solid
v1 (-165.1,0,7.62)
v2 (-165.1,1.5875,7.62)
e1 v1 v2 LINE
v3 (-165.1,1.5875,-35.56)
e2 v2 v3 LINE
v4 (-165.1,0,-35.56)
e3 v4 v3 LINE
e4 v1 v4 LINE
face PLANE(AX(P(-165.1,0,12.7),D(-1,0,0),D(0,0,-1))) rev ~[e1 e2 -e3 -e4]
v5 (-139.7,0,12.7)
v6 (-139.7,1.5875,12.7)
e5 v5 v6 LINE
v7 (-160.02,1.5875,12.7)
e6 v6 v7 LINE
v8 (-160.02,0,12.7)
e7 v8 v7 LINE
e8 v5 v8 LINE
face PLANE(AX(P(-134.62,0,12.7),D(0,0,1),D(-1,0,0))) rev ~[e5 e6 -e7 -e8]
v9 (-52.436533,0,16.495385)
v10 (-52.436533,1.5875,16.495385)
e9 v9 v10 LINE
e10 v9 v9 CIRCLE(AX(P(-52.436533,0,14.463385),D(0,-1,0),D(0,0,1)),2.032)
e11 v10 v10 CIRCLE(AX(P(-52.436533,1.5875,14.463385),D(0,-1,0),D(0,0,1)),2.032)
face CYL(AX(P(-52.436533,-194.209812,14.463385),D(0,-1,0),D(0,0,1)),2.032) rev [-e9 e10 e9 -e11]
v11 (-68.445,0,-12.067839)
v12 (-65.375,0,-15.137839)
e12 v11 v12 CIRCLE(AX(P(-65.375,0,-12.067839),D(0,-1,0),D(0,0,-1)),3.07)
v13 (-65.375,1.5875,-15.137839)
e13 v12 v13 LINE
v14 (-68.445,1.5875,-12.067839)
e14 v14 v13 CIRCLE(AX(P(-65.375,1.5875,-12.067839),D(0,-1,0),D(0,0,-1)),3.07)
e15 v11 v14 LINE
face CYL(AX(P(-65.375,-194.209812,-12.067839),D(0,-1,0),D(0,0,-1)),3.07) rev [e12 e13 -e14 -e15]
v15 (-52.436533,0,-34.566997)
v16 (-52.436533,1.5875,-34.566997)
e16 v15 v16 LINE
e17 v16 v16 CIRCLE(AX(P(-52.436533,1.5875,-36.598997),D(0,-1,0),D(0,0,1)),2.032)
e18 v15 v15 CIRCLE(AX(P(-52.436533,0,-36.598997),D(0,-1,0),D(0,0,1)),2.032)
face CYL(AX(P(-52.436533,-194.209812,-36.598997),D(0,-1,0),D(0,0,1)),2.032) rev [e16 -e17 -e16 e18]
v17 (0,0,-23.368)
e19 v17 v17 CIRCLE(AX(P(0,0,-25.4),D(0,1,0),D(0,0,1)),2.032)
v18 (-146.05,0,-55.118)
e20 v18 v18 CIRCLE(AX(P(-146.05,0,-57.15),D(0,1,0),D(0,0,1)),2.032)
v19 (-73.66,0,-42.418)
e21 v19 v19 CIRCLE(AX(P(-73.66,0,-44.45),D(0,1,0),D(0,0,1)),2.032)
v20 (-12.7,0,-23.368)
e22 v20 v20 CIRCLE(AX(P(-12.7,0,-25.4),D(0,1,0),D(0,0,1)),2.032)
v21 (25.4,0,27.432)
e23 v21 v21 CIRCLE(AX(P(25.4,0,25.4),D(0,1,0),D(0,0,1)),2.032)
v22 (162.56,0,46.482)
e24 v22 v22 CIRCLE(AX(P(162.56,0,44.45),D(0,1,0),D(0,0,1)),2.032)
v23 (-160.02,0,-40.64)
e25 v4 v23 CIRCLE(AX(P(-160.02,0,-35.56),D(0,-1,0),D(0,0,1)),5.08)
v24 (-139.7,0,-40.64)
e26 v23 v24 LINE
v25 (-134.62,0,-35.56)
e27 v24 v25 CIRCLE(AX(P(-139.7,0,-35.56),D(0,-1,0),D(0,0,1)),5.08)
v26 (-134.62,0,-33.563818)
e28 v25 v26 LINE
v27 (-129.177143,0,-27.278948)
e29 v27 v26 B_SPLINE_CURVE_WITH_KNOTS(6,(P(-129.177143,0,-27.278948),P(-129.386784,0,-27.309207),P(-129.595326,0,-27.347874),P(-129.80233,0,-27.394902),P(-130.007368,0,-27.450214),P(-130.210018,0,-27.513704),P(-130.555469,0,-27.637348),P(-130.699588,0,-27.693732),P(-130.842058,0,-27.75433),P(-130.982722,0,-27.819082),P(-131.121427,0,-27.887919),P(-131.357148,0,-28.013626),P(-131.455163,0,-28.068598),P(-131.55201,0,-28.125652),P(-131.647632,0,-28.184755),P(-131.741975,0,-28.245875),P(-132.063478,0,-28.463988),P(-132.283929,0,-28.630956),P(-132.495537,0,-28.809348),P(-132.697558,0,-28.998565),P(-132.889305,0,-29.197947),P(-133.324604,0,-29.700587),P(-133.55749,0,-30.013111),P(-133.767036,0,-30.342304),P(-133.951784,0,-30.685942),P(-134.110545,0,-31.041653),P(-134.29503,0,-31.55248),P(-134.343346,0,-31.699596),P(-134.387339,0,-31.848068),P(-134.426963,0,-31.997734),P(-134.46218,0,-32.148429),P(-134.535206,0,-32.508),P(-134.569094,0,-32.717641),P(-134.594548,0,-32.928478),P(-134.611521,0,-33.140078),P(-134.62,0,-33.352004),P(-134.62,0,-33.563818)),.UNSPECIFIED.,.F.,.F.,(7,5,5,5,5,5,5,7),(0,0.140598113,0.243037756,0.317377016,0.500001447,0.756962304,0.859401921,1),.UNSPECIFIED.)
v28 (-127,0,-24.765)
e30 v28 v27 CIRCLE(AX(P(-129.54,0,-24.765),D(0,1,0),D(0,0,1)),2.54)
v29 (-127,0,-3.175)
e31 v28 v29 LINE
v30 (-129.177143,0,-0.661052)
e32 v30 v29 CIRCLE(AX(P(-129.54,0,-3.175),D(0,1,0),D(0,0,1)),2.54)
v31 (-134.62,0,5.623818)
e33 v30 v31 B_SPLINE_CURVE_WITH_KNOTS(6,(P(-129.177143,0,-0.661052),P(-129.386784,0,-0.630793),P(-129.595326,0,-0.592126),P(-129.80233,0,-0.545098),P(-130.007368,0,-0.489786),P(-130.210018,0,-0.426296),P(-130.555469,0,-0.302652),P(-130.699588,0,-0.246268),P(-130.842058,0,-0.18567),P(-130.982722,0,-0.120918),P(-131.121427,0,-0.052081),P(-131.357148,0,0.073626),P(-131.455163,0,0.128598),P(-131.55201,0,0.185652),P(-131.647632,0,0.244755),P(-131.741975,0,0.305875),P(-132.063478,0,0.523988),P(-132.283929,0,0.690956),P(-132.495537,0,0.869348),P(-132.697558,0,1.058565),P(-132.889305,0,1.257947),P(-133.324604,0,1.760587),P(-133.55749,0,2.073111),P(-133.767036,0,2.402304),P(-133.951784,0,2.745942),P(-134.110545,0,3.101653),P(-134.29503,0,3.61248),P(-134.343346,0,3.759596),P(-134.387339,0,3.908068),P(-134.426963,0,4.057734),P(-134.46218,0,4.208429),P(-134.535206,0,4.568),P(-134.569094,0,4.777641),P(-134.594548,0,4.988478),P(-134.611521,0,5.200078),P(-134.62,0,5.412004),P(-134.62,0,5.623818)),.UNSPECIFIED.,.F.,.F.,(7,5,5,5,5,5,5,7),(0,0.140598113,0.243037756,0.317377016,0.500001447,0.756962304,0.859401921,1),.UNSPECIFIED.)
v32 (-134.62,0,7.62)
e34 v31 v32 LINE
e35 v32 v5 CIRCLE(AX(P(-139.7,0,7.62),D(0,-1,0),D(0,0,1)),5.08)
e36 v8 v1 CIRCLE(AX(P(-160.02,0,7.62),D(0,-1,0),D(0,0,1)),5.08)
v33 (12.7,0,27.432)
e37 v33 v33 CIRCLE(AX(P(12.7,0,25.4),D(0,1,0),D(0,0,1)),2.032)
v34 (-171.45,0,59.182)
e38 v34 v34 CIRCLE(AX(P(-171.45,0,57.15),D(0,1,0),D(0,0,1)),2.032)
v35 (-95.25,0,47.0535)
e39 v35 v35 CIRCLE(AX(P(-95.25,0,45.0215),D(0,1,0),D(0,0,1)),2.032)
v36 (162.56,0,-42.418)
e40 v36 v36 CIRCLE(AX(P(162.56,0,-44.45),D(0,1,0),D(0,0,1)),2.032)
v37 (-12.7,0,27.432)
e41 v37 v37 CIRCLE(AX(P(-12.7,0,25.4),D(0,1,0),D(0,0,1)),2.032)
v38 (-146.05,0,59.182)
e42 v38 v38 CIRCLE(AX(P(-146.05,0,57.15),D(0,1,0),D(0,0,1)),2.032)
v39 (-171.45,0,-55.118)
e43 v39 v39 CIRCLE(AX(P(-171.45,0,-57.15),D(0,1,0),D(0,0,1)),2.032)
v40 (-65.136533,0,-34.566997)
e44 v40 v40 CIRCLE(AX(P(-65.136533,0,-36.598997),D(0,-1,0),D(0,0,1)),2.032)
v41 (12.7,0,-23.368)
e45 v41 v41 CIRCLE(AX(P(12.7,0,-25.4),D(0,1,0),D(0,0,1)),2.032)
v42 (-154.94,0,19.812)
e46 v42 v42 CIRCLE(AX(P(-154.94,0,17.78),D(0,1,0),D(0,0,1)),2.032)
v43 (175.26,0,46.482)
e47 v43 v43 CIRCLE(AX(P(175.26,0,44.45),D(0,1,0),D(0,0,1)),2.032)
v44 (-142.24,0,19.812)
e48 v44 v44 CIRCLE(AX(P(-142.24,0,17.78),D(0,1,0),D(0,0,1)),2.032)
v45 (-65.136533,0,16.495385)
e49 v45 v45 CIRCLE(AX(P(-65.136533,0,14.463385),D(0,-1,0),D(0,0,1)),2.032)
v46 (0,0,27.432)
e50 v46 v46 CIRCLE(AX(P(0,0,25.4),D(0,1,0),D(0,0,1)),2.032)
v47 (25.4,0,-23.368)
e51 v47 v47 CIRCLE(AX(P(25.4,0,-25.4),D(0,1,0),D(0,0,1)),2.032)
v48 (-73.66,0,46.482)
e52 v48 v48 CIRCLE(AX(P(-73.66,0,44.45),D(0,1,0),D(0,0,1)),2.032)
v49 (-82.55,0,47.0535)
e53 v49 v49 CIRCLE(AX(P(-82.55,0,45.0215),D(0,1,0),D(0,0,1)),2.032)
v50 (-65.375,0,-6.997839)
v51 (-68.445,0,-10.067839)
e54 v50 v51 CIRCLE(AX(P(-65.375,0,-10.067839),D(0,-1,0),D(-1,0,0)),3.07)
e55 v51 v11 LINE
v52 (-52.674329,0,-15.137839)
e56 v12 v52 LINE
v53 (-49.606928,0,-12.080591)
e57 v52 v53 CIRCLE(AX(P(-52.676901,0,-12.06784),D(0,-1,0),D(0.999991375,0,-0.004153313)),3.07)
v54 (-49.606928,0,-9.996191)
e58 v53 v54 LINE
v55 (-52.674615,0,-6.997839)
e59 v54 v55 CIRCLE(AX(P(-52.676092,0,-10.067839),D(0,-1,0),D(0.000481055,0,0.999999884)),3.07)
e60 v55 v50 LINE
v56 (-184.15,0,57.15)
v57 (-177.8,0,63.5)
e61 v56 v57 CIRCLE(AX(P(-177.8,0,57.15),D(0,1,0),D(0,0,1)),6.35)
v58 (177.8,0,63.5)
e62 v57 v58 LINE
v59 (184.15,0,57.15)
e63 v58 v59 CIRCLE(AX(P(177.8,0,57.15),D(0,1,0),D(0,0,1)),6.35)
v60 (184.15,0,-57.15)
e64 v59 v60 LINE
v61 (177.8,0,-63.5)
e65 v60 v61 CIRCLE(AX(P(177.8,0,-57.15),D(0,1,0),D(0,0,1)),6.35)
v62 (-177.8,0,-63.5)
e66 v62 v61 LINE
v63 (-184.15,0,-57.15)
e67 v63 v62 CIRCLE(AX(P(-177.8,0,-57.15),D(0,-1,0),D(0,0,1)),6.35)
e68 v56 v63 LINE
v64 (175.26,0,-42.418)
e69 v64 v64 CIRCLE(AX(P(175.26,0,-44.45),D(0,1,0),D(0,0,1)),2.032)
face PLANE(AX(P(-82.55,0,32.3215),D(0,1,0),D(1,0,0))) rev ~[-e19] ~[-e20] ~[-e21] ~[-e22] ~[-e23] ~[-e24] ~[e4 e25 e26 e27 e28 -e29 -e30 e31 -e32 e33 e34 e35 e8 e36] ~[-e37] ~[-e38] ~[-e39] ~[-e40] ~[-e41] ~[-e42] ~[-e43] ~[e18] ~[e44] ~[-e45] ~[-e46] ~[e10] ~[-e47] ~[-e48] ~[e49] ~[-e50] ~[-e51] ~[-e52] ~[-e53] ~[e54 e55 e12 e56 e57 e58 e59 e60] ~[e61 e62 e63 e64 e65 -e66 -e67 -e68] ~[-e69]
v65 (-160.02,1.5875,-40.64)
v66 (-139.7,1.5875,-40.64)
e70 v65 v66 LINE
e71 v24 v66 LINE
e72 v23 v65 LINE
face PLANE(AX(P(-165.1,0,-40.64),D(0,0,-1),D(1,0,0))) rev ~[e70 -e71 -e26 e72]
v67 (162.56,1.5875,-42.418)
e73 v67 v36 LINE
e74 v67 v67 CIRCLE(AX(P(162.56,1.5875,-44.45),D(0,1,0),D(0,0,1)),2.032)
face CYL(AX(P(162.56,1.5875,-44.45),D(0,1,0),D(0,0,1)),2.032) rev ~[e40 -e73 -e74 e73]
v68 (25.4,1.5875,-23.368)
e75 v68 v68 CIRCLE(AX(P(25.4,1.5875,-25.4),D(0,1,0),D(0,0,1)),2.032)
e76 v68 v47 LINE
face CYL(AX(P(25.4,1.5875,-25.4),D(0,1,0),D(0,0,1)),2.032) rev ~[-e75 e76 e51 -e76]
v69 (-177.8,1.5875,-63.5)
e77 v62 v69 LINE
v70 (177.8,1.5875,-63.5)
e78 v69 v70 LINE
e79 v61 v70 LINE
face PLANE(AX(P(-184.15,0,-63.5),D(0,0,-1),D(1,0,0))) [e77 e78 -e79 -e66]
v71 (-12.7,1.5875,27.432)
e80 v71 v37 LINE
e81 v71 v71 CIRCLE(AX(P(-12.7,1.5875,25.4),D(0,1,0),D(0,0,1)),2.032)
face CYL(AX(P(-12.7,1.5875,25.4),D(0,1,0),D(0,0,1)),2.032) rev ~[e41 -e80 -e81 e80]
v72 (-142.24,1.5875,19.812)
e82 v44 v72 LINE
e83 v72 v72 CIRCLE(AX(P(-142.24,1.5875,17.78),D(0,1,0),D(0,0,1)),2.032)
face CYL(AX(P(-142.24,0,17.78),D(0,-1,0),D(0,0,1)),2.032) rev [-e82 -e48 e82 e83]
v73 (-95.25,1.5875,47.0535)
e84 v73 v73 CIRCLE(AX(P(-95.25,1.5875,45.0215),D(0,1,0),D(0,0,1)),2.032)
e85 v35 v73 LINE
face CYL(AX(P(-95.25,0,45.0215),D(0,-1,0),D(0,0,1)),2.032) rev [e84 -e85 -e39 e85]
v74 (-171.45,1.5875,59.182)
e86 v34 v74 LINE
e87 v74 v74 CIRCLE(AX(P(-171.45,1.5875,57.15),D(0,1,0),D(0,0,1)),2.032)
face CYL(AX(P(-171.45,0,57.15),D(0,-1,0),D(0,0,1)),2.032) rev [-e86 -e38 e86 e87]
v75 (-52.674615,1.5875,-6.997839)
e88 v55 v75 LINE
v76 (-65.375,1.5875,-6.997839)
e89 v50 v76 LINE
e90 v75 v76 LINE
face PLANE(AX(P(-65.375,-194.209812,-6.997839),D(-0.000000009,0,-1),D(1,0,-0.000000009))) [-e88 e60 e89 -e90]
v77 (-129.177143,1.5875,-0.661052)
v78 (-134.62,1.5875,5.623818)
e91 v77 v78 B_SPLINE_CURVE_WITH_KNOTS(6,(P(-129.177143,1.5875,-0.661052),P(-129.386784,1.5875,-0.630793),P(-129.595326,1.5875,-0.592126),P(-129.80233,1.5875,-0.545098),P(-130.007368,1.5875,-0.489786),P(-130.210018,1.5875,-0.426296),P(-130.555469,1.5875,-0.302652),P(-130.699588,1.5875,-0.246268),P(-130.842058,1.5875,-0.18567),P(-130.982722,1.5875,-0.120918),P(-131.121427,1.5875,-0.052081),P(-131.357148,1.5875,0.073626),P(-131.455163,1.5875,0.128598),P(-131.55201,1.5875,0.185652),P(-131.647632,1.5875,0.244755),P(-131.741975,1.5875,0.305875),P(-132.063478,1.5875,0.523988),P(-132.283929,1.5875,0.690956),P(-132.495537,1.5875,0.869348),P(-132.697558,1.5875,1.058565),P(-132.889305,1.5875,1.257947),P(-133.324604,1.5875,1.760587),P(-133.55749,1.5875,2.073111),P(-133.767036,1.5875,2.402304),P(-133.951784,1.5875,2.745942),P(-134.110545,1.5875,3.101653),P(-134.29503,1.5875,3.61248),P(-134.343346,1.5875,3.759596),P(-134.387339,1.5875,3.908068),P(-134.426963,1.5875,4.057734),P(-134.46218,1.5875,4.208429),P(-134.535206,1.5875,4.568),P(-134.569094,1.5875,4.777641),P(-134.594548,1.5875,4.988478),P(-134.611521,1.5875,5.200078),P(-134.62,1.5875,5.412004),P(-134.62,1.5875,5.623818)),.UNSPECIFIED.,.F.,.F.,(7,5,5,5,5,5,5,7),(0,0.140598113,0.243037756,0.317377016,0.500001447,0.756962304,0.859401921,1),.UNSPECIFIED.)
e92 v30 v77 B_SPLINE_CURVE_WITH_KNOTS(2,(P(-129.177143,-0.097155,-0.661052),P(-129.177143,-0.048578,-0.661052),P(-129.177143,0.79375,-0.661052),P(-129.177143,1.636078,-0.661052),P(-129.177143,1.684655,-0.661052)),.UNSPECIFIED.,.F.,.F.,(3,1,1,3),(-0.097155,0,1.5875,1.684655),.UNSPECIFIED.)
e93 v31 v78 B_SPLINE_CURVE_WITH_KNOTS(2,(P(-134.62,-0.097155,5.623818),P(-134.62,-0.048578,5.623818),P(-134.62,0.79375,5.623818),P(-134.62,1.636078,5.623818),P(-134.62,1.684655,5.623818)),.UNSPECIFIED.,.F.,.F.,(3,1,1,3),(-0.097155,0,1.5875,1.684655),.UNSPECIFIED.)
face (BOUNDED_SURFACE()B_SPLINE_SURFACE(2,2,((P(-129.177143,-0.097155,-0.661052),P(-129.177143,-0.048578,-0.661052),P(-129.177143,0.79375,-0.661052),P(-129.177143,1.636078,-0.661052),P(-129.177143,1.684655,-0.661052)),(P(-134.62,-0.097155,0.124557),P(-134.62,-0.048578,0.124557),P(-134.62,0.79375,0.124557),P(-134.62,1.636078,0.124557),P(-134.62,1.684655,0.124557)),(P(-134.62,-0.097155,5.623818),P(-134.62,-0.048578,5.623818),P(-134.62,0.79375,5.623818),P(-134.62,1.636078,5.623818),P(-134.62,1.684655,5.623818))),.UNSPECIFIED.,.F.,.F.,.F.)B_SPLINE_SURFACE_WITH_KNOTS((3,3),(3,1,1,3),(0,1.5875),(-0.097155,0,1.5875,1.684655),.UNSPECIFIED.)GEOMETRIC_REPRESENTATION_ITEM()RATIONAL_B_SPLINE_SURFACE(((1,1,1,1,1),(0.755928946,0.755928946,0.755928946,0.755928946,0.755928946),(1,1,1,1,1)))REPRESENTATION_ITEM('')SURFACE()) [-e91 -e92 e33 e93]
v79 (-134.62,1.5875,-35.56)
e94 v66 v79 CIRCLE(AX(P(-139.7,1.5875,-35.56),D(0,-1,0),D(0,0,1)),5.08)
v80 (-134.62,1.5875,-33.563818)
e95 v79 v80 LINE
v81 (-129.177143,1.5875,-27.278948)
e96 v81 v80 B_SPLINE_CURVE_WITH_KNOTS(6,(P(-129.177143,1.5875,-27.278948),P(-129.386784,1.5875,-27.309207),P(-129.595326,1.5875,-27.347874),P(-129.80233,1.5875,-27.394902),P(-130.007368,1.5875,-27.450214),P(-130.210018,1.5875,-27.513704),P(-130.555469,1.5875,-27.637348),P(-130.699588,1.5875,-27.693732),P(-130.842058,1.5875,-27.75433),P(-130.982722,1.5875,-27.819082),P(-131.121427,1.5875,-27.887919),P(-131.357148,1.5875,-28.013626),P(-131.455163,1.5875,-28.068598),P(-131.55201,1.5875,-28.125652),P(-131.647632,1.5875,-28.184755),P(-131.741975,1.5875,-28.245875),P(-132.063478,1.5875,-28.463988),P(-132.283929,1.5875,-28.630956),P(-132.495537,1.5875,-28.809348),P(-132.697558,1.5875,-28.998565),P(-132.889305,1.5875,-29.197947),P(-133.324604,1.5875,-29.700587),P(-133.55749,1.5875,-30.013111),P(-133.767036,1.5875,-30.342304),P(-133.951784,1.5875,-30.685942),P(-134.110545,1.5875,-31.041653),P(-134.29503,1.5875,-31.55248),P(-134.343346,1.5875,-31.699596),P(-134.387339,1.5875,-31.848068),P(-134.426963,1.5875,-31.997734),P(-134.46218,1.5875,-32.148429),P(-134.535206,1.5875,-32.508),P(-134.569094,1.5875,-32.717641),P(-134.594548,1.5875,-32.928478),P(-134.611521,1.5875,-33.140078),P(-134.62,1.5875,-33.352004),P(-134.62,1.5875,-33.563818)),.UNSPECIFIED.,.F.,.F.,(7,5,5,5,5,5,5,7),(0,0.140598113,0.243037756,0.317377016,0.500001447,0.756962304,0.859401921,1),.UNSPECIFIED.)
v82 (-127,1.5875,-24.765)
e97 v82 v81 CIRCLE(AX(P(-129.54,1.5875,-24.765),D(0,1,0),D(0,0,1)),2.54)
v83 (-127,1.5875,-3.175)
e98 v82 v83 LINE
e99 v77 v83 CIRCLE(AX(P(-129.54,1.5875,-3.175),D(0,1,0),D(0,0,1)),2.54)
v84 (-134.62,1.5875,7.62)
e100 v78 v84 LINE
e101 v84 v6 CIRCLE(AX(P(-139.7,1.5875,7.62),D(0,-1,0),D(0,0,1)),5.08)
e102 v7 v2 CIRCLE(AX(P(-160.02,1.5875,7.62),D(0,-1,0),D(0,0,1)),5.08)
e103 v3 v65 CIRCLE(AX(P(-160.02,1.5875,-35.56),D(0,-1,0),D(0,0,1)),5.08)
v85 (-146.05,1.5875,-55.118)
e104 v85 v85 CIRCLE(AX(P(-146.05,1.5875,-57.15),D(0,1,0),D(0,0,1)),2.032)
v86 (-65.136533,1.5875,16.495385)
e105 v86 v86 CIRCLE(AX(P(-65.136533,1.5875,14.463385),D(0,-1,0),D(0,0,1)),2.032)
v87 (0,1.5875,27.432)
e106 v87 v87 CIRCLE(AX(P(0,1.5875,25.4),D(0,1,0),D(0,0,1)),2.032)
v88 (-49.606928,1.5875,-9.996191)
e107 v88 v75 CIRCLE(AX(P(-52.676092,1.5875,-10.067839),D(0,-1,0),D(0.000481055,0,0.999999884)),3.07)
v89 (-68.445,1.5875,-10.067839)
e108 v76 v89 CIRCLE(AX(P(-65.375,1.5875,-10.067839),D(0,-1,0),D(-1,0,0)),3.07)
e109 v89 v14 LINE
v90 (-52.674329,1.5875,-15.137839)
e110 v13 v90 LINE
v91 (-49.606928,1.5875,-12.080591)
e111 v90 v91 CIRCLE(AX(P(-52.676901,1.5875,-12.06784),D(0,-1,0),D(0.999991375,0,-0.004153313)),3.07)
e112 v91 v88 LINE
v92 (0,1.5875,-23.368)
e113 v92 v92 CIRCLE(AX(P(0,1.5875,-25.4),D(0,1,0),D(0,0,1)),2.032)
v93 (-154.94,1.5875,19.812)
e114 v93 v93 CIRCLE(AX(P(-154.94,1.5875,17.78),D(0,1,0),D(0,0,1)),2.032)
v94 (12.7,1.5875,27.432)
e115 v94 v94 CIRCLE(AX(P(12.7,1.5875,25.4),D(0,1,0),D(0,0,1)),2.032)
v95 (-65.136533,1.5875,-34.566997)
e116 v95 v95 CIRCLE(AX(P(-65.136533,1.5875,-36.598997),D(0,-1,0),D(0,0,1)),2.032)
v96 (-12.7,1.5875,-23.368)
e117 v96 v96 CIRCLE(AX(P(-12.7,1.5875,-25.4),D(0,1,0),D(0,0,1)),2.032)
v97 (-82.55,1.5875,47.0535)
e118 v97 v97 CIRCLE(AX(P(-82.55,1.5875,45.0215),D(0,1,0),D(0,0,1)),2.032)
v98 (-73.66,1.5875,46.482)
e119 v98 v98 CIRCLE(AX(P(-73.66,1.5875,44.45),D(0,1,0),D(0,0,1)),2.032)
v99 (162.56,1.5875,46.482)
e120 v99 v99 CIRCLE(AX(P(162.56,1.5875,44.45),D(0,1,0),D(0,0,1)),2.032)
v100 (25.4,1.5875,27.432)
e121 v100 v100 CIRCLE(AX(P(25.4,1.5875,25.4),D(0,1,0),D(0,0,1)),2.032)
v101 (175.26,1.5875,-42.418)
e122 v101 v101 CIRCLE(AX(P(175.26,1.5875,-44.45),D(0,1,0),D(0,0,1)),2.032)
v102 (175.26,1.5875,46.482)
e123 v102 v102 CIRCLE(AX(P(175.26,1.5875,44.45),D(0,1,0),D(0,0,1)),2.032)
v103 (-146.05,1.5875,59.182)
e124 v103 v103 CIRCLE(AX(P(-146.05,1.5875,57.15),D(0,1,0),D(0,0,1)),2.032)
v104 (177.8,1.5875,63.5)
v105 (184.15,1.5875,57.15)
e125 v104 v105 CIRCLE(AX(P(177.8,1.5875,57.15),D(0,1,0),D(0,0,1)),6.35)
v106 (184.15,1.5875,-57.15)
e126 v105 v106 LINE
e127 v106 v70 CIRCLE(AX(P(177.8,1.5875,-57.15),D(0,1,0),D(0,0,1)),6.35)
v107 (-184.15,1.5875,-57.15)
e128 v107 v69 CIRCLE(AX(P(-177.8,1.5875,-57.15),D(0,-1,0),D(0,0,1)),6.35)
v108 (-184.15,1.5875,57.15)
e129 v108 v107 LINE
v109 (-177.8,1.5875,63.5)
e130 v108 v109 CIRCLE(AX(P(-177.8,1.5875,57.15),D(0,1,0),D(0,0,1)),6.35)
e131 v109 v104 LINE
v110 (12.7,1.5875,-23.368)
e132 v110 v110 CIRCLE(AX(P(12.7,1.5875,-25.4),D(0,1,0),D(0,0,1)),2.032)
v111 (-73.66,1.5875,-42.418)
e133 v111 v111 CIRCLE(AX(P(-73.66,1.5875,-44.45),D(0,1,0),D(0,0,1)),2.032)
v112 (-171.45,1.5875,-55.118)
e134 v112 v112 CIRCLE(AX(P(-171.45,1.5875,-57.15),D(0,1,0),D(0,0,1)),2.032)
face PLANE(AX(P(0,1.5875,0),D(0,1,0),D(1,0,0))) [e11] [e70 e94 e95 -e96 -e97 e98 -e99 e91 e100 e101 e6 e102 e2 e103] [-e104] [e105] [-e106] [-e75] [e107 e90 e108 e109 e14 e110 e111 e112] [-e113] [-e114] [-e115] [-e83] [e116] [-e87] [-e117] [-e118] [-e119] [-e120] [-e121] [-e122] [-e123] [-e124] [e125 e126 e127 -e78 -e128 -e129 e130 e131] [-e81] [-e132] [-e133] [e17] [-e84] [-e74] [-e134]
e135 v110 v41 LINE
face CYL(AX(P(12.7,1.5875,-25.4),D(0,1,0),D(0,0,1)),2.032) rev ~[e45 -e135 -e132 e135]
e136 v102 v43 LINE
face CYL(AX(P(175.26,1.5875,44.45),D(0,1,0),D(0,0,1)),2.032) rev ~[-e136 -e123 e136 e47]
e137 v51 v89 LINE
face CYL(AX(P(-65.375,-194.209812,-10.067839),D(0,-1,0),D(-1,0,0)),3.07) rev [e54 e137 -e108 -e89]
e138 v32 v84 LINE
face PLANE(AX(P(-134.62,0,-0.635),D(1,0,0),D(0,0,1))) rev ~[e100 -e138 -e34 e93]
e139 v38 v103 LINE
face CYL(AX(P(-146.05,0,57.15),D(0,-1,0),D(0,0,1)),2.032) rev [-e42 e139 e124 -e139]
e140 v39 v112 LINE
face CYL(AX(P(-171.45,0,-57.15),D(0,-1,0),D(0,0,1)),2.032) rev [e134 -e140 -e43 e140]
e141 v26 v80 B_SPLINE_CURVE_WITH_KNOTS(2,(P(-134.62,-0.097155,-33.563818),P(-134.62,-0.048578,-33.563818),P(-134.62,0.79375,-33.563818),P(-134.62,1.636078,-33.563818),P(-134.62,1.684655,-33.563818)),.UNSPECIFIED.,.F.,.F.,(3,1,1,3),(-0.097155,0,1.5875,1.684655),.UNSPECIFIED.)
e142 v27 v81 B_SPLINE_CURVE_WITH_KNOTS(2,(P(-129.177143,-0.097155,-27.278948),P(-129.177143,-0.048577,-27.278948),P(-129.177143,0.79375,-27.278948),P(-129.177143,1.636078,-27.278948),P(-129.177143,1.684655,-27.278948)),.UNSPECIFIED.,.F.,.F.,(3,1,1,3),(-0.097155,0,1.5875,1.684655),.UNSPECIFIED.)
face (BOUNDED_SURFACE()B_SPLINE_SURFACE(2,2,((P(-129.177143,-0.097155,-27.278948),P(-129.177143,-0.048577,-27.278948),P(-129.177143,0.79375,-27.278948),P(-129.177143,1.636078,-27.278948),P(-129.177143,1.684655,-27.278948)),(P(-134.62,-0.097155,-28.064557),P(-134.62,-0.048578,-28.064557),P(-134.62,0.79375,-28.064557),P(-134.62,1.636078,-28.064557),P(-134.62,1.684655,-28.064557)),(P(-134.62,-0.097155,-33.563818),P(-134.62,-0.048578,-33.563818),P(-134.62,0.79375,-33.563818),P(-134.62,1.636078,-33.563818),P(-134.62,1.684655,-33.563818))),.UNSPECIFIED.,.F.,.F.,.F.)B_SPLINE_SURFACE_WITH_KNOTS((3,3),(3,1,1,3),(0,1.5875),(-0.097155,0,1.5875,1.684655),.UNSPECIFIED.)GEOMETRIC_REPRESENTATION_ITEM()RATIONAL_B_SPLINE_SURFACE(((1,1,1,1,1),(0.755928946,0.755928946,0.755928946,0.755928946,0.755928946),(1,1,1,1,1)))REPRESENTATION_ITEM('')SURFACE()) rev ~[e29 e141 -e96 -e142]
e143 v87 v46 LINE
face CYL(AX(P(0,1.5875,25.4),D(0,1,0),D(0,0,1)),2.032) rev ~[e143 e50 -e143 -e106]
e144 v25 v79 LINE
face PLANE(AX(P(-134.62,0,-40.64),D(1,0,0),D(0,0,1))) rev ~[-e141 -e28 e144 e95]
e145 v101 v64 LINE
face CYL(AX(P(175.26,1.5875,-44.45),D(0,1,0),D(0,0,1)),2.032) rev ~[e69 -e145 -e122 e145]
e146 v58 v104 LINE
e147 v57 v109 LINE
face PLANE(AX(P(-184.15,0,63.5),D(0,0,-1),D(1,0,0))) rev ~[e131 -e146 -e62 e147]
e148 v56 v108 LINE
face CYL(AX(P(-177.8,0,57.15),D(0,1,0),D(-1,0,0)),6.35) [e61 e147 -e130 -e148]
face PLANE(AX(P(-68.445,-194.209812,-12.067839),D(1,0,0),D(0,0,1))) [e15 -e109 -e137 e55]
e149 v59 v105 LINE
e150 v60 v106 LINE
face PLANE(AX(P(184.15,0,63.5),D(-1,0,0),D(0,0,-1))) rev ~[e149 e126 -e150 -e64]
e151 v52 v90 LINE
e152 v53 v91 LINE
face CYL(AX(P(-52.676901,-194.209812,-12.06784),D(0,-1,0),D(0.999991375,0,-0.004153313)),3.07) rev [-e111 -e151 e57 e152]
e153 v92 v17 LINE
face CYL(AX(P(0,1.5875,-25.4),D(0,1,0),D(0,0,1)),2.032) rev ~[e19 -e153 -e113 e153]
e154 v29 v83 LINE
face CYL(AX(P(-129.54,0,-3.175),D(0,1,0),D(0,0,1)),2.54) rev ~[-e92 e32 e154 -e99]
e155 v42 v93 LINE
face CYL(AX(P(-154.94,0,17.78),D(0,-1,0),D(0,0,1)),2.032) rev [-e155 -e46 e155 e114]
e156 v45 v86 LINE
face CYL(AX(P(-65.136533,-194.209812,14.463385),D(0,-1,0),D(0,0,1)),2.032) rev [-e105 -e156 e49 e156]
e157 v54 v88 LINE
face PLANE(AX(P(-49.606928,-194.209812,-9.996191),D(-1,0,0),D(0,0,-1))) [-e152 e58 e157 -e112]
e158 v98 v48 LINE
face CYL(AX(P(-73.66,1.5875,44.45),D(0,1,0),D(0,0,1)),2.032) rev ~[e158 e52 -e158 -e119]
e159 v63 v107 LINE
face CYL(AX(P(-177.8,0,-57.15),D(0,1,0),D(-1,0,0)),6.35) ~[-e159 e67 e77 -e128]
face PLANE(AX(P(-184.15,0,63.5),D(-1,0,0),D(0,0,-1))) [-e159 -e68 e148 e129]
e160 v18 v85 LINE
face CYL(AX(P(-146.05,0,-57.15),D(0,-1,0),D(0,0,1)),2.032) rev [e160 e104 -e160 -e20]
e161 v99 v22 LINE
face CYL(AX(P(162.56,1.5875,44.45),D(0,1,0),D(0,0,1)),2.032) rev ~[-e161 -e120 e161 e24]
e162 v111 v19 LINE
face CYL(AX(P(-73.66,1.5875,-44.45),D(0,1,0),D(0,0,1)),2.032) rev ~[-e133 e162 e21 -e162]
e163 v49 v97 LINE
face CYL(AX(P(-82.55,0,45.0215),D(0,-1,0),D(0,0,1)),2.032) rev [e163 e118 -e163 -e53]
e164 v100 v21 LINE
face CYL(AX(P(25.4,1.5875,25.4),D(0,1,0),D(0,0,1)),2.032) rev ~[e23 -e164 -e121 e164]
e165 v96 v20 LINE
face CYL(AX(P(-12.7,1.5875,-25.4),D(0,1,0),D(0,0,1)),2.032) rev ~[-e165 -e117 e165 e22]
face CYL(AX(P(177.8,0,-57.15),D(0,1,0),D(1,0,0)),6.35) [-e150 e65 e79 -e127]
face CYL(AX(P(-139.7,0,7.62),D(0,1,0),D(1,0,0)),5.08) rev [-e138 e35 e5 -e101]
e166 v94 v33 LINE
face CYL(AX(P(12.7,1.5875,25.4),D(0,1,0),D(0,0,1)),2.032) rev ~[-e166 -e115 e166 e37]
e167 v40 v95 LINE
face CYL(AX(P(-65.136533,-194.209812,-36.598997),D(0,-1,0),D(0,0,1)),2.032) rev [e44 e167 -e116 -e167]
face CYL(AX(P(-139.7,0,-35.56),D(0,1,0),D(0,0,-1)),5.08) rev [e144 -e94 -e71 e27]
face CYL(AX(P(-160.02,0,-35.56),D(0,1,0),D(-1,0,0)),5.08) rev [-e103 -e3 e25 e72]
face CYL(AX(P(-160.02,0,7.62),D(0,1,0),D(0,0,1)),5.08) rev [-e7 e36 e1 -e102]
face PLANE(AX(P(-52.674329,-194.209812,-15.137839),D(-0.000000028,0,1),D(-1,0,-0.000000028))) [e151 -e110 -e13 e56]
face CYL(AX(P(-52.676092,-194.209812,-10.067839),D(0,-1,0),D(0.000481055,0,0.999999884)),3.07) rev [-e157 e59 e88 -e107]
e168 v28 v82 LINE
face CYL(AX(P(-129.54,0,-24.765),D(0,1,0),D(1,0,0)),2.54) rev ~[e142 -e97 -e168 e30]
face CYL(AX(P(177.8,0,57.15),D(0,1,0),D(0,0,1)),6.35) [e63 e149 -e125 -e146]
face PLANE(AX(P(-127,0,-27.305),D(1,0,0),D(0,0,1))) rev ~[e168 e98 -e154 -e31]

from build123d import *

# Parameters (mm, degrees)
SKETCH1_W               = 368.3
SKETCH1_H               = 127
SKETCH1_R               = 2.032
BOSS_EXTRUDE1_DEPTH     = 1.5875
FILLET1_R               = 5.08
FILLET3_R               = 6.35
FILLET4_R               = 2.54
FILLET5_R               = 6.35
SKETCH3_R               = 2.032
CUT_EXTRUDE5_DEPTH      = 195.797311855
CUT_EXTRUDE6_DEPTH      = 195.797311855
CUT_EXTRUDE6_DEPTH_BACK = 195.797311855
SKETCH4_R               = 2.032
CUT_EXTRUDE7_DEPTH      = 195.797311855
CUT_EXTRUDE7_DEPTH_BACK = 195.797311855


with BuildPart() as part:
    # Sketch1 → Boss-Extrude1 (new body)
    with BuildSketch(Plane(origin=(0, 0, 0), x_dir=(1, 0, 0), z_dir=(0, 1, 0))):
        Rectangle(SKETCH1_W, SKETCH1_H)
        with Locations((-171.45, -57.15)):
            Circle(SKETCH1_R, mode=Mode.SUBTRACT)
        with Locations((-146.05, -57.15)):
            Circle(SKETCH1_R, mode=Mode.SUBTRACT)
        with Locations((-95.25, -45.0215)):
            Circle(SKETCH1_R, mode=Mode.SUBTRACT)
        with Locations((-82.55, -45.0215)):
            Circle(SKETCH1_R, mode=Mode.SUBTRACT)
        with Locations((-154.94, -17.78)):
            Circle(SKETCH1_R, mode=Mode.SUBTRACT)
        with Locations((-142.24, -17.78)):
            Circle(SKETCH1_R, mode=Mode.SUBTRACT)
        Polygon((-134.62, -12.7), (-165.1, -12.7), (-165.1, 40.64), (-134.62, 40.64), (-134.62, 27.305), (-127, 27.305), (-127, 0.635), (-134.62, 0.635), align=None, mode=Mode.SUBTRACT)
        with Locations((-171.45, 57.15)):
            Circle(SKETCH1_R, mode=Mode.SUBTRACT)
        with Locations((-146.05, 57.15)):
            Circle(SKETCH1_R, mode=Mode.SUBTRACT)
    extrude(amount=BOSS_EXTRUDE1_DEPTH)

    # Fillet1
    fillet1_edges = [part.edges().sort_by_distance(p)[0] for p in [
        (-134.62, 0.79375, 12.7),
        (-165.1, 0.79375, 12.7),
        (-165.1, 0.79375, -40.64),
        (-134.62, 0.79375, -40.64),
    ]]
    fillet(fillet1_edges, radius=FILLET1_R)

    # Fillet3
    fillet3_edges = [part.edges().sort_by_distance(p)[0] for p in [
        (184.15, 0.79375, 63.5),
        (184.15, 0.79375, -63.5),
        (-184.15, 0.79375, 63.5),
        (-184.15, 0.79375, -63.5),
    ]]
    fillet(fillet3_edges, radius=FILLET3_R)

    # Fillet4
    fillet4_edges = [part.edges().sort_by_distance(p)[0] for p in [
        (-127, 0.79375, -0.635),
        (-127, 0.79375, -27.305),
    ]]
    fillet(fillet4_edges, radius=FILLET4_R)

    # Fillet5
    fillet5_edges = [part.edges().sort_by_distance(p)[0] for p in [
        (-134.62, 0.79375, -0.635),
        (-134.62, 0.79375, -27.305),
    ]]
    fillet(fillet5_edges, radius=FILLET5_R)

    # Sketch3 → Cut-Extrude5 (cut, through all)
    with BuildSketch(Plane(origin=(0, 1.5875, 0), x_dir=(1, 0, 0), z_dir=(0, 1, 0))):
        with Locations((-12.7, -25.4)):
            Circle(SKETCH3_R)
        with Locations((0, -25.4)):
            Circle(SKETCH3_R)
        with Locations((12.7, -25.4)):
            Circle(SKETCH3_R)
        with Locations((25.4, -25.4)):
            Circle(SKETCH3_R)
        with Locations((25.4, 25.4)):
            Circle(SKETCH3_R)
        with Locations((12.7, 25.4)):
            Circle(SKETCH3_R)
        with Locations((0, 25.4)):
            Circle(SKETCH3_R)
        with Locations((-12.7, 25.4)):
            Circle(SKETCH3_R)
        with Locations((162.56, -44.45)):
            Circle(SKETCH3_R)
        with Locations((162.56, 44.45)):
            Circle(SKETCH3_R)
        with Locations((-73.66, 44.45)):
            Circle(SKETCH3_R)
        with Locations((-73.66, -44.45)):
            Circle(SKETCH3_R)
        with Locations((175.26, 44.45)):
            Circle(SKETCH3_R)
        with Locations((175.26, -44.45)):
            Circle(SKETCH3_R)
    extrude(amount=-CUT_EXTRUDE5_DEPTH, mode=Mode.SUBTRACT)

    # Sketch4 → Cut-Extrude6 (cut, two sides: drawn at the far end of the back side and taken through both)
    with BuildSketch(Plane(origin=(0, 1.5875, 0), x_dir=(1, 0, 0), z_dir=(0, 1, 0)).offset(-CUT_EXTRUDE6_DEPTH_BACK)):
        with Locations((-65.136533, 36.598997136)):
            Circle(SKETCH4_R)
        with Locations((-52.436533, 36.598997136)):
            Circle(SKETCH4_R)
        with Locations((-65.136533, -14.463384864)):
            Circle(SKETCH4_R)
        with Locations((-52.436533, -14.463384864)):
            Circle(SKETCH4_R)
    extrude(amount=CUT_EXTRUDE6_DEPTH + CUT_EXTRUDE6_DEPTH_BACK, mode=Mode.SUBTRACT)

    # Sketch5 → Cut-Extrude7 (cut, two sides: drawn at the far end of the back side and taken through both)
    with BuildSketch(Plane(origin=(0, 1.5875, 0), x_dir=(1, 0, 0), z_dir=(0, 1, 0)).offset(-CUT_EXTRUDE7_DEPTH_BACK)):
        with BuildLine():
            ThreePointArc((-68.445, 10.067839136), (-67.545817818, 7.897021318), (-65.375, 6.997839136))
            Line((-65.375, 6.997839136), (-52.674614886, 6.997839253))
            ThreePointArc((-52.674614886, 6.997839253), (-50.530226494, 7.872352043), (-49.606927824, 9.996191435))
            Line((-49.606927824, 9.996191435), (-49.606927824, 12.08059101))
            ThreePointArc((-49.606927824, 12.08059101), (-50.509685219, 14.242253685), (-52.674329248, 15.137838782))
            Line((-52.674329248, 15.137838782), (-65.375, 15.137839136))
            ThreePointArc((-65.375, 15.137839136), (-67.545817818, 14.238656954), (-68.445, 12.067839136))
            Line((-68.445, 12.067839136), (-68.445, 10.067839136))
        make_face()
    extrude(amount=CUT_EXTRUDE7_DEPTH + CUT_EXTRUDE7_DEPTH_BACK, mode=Mode.SUBTRACT)


solid = part.part
